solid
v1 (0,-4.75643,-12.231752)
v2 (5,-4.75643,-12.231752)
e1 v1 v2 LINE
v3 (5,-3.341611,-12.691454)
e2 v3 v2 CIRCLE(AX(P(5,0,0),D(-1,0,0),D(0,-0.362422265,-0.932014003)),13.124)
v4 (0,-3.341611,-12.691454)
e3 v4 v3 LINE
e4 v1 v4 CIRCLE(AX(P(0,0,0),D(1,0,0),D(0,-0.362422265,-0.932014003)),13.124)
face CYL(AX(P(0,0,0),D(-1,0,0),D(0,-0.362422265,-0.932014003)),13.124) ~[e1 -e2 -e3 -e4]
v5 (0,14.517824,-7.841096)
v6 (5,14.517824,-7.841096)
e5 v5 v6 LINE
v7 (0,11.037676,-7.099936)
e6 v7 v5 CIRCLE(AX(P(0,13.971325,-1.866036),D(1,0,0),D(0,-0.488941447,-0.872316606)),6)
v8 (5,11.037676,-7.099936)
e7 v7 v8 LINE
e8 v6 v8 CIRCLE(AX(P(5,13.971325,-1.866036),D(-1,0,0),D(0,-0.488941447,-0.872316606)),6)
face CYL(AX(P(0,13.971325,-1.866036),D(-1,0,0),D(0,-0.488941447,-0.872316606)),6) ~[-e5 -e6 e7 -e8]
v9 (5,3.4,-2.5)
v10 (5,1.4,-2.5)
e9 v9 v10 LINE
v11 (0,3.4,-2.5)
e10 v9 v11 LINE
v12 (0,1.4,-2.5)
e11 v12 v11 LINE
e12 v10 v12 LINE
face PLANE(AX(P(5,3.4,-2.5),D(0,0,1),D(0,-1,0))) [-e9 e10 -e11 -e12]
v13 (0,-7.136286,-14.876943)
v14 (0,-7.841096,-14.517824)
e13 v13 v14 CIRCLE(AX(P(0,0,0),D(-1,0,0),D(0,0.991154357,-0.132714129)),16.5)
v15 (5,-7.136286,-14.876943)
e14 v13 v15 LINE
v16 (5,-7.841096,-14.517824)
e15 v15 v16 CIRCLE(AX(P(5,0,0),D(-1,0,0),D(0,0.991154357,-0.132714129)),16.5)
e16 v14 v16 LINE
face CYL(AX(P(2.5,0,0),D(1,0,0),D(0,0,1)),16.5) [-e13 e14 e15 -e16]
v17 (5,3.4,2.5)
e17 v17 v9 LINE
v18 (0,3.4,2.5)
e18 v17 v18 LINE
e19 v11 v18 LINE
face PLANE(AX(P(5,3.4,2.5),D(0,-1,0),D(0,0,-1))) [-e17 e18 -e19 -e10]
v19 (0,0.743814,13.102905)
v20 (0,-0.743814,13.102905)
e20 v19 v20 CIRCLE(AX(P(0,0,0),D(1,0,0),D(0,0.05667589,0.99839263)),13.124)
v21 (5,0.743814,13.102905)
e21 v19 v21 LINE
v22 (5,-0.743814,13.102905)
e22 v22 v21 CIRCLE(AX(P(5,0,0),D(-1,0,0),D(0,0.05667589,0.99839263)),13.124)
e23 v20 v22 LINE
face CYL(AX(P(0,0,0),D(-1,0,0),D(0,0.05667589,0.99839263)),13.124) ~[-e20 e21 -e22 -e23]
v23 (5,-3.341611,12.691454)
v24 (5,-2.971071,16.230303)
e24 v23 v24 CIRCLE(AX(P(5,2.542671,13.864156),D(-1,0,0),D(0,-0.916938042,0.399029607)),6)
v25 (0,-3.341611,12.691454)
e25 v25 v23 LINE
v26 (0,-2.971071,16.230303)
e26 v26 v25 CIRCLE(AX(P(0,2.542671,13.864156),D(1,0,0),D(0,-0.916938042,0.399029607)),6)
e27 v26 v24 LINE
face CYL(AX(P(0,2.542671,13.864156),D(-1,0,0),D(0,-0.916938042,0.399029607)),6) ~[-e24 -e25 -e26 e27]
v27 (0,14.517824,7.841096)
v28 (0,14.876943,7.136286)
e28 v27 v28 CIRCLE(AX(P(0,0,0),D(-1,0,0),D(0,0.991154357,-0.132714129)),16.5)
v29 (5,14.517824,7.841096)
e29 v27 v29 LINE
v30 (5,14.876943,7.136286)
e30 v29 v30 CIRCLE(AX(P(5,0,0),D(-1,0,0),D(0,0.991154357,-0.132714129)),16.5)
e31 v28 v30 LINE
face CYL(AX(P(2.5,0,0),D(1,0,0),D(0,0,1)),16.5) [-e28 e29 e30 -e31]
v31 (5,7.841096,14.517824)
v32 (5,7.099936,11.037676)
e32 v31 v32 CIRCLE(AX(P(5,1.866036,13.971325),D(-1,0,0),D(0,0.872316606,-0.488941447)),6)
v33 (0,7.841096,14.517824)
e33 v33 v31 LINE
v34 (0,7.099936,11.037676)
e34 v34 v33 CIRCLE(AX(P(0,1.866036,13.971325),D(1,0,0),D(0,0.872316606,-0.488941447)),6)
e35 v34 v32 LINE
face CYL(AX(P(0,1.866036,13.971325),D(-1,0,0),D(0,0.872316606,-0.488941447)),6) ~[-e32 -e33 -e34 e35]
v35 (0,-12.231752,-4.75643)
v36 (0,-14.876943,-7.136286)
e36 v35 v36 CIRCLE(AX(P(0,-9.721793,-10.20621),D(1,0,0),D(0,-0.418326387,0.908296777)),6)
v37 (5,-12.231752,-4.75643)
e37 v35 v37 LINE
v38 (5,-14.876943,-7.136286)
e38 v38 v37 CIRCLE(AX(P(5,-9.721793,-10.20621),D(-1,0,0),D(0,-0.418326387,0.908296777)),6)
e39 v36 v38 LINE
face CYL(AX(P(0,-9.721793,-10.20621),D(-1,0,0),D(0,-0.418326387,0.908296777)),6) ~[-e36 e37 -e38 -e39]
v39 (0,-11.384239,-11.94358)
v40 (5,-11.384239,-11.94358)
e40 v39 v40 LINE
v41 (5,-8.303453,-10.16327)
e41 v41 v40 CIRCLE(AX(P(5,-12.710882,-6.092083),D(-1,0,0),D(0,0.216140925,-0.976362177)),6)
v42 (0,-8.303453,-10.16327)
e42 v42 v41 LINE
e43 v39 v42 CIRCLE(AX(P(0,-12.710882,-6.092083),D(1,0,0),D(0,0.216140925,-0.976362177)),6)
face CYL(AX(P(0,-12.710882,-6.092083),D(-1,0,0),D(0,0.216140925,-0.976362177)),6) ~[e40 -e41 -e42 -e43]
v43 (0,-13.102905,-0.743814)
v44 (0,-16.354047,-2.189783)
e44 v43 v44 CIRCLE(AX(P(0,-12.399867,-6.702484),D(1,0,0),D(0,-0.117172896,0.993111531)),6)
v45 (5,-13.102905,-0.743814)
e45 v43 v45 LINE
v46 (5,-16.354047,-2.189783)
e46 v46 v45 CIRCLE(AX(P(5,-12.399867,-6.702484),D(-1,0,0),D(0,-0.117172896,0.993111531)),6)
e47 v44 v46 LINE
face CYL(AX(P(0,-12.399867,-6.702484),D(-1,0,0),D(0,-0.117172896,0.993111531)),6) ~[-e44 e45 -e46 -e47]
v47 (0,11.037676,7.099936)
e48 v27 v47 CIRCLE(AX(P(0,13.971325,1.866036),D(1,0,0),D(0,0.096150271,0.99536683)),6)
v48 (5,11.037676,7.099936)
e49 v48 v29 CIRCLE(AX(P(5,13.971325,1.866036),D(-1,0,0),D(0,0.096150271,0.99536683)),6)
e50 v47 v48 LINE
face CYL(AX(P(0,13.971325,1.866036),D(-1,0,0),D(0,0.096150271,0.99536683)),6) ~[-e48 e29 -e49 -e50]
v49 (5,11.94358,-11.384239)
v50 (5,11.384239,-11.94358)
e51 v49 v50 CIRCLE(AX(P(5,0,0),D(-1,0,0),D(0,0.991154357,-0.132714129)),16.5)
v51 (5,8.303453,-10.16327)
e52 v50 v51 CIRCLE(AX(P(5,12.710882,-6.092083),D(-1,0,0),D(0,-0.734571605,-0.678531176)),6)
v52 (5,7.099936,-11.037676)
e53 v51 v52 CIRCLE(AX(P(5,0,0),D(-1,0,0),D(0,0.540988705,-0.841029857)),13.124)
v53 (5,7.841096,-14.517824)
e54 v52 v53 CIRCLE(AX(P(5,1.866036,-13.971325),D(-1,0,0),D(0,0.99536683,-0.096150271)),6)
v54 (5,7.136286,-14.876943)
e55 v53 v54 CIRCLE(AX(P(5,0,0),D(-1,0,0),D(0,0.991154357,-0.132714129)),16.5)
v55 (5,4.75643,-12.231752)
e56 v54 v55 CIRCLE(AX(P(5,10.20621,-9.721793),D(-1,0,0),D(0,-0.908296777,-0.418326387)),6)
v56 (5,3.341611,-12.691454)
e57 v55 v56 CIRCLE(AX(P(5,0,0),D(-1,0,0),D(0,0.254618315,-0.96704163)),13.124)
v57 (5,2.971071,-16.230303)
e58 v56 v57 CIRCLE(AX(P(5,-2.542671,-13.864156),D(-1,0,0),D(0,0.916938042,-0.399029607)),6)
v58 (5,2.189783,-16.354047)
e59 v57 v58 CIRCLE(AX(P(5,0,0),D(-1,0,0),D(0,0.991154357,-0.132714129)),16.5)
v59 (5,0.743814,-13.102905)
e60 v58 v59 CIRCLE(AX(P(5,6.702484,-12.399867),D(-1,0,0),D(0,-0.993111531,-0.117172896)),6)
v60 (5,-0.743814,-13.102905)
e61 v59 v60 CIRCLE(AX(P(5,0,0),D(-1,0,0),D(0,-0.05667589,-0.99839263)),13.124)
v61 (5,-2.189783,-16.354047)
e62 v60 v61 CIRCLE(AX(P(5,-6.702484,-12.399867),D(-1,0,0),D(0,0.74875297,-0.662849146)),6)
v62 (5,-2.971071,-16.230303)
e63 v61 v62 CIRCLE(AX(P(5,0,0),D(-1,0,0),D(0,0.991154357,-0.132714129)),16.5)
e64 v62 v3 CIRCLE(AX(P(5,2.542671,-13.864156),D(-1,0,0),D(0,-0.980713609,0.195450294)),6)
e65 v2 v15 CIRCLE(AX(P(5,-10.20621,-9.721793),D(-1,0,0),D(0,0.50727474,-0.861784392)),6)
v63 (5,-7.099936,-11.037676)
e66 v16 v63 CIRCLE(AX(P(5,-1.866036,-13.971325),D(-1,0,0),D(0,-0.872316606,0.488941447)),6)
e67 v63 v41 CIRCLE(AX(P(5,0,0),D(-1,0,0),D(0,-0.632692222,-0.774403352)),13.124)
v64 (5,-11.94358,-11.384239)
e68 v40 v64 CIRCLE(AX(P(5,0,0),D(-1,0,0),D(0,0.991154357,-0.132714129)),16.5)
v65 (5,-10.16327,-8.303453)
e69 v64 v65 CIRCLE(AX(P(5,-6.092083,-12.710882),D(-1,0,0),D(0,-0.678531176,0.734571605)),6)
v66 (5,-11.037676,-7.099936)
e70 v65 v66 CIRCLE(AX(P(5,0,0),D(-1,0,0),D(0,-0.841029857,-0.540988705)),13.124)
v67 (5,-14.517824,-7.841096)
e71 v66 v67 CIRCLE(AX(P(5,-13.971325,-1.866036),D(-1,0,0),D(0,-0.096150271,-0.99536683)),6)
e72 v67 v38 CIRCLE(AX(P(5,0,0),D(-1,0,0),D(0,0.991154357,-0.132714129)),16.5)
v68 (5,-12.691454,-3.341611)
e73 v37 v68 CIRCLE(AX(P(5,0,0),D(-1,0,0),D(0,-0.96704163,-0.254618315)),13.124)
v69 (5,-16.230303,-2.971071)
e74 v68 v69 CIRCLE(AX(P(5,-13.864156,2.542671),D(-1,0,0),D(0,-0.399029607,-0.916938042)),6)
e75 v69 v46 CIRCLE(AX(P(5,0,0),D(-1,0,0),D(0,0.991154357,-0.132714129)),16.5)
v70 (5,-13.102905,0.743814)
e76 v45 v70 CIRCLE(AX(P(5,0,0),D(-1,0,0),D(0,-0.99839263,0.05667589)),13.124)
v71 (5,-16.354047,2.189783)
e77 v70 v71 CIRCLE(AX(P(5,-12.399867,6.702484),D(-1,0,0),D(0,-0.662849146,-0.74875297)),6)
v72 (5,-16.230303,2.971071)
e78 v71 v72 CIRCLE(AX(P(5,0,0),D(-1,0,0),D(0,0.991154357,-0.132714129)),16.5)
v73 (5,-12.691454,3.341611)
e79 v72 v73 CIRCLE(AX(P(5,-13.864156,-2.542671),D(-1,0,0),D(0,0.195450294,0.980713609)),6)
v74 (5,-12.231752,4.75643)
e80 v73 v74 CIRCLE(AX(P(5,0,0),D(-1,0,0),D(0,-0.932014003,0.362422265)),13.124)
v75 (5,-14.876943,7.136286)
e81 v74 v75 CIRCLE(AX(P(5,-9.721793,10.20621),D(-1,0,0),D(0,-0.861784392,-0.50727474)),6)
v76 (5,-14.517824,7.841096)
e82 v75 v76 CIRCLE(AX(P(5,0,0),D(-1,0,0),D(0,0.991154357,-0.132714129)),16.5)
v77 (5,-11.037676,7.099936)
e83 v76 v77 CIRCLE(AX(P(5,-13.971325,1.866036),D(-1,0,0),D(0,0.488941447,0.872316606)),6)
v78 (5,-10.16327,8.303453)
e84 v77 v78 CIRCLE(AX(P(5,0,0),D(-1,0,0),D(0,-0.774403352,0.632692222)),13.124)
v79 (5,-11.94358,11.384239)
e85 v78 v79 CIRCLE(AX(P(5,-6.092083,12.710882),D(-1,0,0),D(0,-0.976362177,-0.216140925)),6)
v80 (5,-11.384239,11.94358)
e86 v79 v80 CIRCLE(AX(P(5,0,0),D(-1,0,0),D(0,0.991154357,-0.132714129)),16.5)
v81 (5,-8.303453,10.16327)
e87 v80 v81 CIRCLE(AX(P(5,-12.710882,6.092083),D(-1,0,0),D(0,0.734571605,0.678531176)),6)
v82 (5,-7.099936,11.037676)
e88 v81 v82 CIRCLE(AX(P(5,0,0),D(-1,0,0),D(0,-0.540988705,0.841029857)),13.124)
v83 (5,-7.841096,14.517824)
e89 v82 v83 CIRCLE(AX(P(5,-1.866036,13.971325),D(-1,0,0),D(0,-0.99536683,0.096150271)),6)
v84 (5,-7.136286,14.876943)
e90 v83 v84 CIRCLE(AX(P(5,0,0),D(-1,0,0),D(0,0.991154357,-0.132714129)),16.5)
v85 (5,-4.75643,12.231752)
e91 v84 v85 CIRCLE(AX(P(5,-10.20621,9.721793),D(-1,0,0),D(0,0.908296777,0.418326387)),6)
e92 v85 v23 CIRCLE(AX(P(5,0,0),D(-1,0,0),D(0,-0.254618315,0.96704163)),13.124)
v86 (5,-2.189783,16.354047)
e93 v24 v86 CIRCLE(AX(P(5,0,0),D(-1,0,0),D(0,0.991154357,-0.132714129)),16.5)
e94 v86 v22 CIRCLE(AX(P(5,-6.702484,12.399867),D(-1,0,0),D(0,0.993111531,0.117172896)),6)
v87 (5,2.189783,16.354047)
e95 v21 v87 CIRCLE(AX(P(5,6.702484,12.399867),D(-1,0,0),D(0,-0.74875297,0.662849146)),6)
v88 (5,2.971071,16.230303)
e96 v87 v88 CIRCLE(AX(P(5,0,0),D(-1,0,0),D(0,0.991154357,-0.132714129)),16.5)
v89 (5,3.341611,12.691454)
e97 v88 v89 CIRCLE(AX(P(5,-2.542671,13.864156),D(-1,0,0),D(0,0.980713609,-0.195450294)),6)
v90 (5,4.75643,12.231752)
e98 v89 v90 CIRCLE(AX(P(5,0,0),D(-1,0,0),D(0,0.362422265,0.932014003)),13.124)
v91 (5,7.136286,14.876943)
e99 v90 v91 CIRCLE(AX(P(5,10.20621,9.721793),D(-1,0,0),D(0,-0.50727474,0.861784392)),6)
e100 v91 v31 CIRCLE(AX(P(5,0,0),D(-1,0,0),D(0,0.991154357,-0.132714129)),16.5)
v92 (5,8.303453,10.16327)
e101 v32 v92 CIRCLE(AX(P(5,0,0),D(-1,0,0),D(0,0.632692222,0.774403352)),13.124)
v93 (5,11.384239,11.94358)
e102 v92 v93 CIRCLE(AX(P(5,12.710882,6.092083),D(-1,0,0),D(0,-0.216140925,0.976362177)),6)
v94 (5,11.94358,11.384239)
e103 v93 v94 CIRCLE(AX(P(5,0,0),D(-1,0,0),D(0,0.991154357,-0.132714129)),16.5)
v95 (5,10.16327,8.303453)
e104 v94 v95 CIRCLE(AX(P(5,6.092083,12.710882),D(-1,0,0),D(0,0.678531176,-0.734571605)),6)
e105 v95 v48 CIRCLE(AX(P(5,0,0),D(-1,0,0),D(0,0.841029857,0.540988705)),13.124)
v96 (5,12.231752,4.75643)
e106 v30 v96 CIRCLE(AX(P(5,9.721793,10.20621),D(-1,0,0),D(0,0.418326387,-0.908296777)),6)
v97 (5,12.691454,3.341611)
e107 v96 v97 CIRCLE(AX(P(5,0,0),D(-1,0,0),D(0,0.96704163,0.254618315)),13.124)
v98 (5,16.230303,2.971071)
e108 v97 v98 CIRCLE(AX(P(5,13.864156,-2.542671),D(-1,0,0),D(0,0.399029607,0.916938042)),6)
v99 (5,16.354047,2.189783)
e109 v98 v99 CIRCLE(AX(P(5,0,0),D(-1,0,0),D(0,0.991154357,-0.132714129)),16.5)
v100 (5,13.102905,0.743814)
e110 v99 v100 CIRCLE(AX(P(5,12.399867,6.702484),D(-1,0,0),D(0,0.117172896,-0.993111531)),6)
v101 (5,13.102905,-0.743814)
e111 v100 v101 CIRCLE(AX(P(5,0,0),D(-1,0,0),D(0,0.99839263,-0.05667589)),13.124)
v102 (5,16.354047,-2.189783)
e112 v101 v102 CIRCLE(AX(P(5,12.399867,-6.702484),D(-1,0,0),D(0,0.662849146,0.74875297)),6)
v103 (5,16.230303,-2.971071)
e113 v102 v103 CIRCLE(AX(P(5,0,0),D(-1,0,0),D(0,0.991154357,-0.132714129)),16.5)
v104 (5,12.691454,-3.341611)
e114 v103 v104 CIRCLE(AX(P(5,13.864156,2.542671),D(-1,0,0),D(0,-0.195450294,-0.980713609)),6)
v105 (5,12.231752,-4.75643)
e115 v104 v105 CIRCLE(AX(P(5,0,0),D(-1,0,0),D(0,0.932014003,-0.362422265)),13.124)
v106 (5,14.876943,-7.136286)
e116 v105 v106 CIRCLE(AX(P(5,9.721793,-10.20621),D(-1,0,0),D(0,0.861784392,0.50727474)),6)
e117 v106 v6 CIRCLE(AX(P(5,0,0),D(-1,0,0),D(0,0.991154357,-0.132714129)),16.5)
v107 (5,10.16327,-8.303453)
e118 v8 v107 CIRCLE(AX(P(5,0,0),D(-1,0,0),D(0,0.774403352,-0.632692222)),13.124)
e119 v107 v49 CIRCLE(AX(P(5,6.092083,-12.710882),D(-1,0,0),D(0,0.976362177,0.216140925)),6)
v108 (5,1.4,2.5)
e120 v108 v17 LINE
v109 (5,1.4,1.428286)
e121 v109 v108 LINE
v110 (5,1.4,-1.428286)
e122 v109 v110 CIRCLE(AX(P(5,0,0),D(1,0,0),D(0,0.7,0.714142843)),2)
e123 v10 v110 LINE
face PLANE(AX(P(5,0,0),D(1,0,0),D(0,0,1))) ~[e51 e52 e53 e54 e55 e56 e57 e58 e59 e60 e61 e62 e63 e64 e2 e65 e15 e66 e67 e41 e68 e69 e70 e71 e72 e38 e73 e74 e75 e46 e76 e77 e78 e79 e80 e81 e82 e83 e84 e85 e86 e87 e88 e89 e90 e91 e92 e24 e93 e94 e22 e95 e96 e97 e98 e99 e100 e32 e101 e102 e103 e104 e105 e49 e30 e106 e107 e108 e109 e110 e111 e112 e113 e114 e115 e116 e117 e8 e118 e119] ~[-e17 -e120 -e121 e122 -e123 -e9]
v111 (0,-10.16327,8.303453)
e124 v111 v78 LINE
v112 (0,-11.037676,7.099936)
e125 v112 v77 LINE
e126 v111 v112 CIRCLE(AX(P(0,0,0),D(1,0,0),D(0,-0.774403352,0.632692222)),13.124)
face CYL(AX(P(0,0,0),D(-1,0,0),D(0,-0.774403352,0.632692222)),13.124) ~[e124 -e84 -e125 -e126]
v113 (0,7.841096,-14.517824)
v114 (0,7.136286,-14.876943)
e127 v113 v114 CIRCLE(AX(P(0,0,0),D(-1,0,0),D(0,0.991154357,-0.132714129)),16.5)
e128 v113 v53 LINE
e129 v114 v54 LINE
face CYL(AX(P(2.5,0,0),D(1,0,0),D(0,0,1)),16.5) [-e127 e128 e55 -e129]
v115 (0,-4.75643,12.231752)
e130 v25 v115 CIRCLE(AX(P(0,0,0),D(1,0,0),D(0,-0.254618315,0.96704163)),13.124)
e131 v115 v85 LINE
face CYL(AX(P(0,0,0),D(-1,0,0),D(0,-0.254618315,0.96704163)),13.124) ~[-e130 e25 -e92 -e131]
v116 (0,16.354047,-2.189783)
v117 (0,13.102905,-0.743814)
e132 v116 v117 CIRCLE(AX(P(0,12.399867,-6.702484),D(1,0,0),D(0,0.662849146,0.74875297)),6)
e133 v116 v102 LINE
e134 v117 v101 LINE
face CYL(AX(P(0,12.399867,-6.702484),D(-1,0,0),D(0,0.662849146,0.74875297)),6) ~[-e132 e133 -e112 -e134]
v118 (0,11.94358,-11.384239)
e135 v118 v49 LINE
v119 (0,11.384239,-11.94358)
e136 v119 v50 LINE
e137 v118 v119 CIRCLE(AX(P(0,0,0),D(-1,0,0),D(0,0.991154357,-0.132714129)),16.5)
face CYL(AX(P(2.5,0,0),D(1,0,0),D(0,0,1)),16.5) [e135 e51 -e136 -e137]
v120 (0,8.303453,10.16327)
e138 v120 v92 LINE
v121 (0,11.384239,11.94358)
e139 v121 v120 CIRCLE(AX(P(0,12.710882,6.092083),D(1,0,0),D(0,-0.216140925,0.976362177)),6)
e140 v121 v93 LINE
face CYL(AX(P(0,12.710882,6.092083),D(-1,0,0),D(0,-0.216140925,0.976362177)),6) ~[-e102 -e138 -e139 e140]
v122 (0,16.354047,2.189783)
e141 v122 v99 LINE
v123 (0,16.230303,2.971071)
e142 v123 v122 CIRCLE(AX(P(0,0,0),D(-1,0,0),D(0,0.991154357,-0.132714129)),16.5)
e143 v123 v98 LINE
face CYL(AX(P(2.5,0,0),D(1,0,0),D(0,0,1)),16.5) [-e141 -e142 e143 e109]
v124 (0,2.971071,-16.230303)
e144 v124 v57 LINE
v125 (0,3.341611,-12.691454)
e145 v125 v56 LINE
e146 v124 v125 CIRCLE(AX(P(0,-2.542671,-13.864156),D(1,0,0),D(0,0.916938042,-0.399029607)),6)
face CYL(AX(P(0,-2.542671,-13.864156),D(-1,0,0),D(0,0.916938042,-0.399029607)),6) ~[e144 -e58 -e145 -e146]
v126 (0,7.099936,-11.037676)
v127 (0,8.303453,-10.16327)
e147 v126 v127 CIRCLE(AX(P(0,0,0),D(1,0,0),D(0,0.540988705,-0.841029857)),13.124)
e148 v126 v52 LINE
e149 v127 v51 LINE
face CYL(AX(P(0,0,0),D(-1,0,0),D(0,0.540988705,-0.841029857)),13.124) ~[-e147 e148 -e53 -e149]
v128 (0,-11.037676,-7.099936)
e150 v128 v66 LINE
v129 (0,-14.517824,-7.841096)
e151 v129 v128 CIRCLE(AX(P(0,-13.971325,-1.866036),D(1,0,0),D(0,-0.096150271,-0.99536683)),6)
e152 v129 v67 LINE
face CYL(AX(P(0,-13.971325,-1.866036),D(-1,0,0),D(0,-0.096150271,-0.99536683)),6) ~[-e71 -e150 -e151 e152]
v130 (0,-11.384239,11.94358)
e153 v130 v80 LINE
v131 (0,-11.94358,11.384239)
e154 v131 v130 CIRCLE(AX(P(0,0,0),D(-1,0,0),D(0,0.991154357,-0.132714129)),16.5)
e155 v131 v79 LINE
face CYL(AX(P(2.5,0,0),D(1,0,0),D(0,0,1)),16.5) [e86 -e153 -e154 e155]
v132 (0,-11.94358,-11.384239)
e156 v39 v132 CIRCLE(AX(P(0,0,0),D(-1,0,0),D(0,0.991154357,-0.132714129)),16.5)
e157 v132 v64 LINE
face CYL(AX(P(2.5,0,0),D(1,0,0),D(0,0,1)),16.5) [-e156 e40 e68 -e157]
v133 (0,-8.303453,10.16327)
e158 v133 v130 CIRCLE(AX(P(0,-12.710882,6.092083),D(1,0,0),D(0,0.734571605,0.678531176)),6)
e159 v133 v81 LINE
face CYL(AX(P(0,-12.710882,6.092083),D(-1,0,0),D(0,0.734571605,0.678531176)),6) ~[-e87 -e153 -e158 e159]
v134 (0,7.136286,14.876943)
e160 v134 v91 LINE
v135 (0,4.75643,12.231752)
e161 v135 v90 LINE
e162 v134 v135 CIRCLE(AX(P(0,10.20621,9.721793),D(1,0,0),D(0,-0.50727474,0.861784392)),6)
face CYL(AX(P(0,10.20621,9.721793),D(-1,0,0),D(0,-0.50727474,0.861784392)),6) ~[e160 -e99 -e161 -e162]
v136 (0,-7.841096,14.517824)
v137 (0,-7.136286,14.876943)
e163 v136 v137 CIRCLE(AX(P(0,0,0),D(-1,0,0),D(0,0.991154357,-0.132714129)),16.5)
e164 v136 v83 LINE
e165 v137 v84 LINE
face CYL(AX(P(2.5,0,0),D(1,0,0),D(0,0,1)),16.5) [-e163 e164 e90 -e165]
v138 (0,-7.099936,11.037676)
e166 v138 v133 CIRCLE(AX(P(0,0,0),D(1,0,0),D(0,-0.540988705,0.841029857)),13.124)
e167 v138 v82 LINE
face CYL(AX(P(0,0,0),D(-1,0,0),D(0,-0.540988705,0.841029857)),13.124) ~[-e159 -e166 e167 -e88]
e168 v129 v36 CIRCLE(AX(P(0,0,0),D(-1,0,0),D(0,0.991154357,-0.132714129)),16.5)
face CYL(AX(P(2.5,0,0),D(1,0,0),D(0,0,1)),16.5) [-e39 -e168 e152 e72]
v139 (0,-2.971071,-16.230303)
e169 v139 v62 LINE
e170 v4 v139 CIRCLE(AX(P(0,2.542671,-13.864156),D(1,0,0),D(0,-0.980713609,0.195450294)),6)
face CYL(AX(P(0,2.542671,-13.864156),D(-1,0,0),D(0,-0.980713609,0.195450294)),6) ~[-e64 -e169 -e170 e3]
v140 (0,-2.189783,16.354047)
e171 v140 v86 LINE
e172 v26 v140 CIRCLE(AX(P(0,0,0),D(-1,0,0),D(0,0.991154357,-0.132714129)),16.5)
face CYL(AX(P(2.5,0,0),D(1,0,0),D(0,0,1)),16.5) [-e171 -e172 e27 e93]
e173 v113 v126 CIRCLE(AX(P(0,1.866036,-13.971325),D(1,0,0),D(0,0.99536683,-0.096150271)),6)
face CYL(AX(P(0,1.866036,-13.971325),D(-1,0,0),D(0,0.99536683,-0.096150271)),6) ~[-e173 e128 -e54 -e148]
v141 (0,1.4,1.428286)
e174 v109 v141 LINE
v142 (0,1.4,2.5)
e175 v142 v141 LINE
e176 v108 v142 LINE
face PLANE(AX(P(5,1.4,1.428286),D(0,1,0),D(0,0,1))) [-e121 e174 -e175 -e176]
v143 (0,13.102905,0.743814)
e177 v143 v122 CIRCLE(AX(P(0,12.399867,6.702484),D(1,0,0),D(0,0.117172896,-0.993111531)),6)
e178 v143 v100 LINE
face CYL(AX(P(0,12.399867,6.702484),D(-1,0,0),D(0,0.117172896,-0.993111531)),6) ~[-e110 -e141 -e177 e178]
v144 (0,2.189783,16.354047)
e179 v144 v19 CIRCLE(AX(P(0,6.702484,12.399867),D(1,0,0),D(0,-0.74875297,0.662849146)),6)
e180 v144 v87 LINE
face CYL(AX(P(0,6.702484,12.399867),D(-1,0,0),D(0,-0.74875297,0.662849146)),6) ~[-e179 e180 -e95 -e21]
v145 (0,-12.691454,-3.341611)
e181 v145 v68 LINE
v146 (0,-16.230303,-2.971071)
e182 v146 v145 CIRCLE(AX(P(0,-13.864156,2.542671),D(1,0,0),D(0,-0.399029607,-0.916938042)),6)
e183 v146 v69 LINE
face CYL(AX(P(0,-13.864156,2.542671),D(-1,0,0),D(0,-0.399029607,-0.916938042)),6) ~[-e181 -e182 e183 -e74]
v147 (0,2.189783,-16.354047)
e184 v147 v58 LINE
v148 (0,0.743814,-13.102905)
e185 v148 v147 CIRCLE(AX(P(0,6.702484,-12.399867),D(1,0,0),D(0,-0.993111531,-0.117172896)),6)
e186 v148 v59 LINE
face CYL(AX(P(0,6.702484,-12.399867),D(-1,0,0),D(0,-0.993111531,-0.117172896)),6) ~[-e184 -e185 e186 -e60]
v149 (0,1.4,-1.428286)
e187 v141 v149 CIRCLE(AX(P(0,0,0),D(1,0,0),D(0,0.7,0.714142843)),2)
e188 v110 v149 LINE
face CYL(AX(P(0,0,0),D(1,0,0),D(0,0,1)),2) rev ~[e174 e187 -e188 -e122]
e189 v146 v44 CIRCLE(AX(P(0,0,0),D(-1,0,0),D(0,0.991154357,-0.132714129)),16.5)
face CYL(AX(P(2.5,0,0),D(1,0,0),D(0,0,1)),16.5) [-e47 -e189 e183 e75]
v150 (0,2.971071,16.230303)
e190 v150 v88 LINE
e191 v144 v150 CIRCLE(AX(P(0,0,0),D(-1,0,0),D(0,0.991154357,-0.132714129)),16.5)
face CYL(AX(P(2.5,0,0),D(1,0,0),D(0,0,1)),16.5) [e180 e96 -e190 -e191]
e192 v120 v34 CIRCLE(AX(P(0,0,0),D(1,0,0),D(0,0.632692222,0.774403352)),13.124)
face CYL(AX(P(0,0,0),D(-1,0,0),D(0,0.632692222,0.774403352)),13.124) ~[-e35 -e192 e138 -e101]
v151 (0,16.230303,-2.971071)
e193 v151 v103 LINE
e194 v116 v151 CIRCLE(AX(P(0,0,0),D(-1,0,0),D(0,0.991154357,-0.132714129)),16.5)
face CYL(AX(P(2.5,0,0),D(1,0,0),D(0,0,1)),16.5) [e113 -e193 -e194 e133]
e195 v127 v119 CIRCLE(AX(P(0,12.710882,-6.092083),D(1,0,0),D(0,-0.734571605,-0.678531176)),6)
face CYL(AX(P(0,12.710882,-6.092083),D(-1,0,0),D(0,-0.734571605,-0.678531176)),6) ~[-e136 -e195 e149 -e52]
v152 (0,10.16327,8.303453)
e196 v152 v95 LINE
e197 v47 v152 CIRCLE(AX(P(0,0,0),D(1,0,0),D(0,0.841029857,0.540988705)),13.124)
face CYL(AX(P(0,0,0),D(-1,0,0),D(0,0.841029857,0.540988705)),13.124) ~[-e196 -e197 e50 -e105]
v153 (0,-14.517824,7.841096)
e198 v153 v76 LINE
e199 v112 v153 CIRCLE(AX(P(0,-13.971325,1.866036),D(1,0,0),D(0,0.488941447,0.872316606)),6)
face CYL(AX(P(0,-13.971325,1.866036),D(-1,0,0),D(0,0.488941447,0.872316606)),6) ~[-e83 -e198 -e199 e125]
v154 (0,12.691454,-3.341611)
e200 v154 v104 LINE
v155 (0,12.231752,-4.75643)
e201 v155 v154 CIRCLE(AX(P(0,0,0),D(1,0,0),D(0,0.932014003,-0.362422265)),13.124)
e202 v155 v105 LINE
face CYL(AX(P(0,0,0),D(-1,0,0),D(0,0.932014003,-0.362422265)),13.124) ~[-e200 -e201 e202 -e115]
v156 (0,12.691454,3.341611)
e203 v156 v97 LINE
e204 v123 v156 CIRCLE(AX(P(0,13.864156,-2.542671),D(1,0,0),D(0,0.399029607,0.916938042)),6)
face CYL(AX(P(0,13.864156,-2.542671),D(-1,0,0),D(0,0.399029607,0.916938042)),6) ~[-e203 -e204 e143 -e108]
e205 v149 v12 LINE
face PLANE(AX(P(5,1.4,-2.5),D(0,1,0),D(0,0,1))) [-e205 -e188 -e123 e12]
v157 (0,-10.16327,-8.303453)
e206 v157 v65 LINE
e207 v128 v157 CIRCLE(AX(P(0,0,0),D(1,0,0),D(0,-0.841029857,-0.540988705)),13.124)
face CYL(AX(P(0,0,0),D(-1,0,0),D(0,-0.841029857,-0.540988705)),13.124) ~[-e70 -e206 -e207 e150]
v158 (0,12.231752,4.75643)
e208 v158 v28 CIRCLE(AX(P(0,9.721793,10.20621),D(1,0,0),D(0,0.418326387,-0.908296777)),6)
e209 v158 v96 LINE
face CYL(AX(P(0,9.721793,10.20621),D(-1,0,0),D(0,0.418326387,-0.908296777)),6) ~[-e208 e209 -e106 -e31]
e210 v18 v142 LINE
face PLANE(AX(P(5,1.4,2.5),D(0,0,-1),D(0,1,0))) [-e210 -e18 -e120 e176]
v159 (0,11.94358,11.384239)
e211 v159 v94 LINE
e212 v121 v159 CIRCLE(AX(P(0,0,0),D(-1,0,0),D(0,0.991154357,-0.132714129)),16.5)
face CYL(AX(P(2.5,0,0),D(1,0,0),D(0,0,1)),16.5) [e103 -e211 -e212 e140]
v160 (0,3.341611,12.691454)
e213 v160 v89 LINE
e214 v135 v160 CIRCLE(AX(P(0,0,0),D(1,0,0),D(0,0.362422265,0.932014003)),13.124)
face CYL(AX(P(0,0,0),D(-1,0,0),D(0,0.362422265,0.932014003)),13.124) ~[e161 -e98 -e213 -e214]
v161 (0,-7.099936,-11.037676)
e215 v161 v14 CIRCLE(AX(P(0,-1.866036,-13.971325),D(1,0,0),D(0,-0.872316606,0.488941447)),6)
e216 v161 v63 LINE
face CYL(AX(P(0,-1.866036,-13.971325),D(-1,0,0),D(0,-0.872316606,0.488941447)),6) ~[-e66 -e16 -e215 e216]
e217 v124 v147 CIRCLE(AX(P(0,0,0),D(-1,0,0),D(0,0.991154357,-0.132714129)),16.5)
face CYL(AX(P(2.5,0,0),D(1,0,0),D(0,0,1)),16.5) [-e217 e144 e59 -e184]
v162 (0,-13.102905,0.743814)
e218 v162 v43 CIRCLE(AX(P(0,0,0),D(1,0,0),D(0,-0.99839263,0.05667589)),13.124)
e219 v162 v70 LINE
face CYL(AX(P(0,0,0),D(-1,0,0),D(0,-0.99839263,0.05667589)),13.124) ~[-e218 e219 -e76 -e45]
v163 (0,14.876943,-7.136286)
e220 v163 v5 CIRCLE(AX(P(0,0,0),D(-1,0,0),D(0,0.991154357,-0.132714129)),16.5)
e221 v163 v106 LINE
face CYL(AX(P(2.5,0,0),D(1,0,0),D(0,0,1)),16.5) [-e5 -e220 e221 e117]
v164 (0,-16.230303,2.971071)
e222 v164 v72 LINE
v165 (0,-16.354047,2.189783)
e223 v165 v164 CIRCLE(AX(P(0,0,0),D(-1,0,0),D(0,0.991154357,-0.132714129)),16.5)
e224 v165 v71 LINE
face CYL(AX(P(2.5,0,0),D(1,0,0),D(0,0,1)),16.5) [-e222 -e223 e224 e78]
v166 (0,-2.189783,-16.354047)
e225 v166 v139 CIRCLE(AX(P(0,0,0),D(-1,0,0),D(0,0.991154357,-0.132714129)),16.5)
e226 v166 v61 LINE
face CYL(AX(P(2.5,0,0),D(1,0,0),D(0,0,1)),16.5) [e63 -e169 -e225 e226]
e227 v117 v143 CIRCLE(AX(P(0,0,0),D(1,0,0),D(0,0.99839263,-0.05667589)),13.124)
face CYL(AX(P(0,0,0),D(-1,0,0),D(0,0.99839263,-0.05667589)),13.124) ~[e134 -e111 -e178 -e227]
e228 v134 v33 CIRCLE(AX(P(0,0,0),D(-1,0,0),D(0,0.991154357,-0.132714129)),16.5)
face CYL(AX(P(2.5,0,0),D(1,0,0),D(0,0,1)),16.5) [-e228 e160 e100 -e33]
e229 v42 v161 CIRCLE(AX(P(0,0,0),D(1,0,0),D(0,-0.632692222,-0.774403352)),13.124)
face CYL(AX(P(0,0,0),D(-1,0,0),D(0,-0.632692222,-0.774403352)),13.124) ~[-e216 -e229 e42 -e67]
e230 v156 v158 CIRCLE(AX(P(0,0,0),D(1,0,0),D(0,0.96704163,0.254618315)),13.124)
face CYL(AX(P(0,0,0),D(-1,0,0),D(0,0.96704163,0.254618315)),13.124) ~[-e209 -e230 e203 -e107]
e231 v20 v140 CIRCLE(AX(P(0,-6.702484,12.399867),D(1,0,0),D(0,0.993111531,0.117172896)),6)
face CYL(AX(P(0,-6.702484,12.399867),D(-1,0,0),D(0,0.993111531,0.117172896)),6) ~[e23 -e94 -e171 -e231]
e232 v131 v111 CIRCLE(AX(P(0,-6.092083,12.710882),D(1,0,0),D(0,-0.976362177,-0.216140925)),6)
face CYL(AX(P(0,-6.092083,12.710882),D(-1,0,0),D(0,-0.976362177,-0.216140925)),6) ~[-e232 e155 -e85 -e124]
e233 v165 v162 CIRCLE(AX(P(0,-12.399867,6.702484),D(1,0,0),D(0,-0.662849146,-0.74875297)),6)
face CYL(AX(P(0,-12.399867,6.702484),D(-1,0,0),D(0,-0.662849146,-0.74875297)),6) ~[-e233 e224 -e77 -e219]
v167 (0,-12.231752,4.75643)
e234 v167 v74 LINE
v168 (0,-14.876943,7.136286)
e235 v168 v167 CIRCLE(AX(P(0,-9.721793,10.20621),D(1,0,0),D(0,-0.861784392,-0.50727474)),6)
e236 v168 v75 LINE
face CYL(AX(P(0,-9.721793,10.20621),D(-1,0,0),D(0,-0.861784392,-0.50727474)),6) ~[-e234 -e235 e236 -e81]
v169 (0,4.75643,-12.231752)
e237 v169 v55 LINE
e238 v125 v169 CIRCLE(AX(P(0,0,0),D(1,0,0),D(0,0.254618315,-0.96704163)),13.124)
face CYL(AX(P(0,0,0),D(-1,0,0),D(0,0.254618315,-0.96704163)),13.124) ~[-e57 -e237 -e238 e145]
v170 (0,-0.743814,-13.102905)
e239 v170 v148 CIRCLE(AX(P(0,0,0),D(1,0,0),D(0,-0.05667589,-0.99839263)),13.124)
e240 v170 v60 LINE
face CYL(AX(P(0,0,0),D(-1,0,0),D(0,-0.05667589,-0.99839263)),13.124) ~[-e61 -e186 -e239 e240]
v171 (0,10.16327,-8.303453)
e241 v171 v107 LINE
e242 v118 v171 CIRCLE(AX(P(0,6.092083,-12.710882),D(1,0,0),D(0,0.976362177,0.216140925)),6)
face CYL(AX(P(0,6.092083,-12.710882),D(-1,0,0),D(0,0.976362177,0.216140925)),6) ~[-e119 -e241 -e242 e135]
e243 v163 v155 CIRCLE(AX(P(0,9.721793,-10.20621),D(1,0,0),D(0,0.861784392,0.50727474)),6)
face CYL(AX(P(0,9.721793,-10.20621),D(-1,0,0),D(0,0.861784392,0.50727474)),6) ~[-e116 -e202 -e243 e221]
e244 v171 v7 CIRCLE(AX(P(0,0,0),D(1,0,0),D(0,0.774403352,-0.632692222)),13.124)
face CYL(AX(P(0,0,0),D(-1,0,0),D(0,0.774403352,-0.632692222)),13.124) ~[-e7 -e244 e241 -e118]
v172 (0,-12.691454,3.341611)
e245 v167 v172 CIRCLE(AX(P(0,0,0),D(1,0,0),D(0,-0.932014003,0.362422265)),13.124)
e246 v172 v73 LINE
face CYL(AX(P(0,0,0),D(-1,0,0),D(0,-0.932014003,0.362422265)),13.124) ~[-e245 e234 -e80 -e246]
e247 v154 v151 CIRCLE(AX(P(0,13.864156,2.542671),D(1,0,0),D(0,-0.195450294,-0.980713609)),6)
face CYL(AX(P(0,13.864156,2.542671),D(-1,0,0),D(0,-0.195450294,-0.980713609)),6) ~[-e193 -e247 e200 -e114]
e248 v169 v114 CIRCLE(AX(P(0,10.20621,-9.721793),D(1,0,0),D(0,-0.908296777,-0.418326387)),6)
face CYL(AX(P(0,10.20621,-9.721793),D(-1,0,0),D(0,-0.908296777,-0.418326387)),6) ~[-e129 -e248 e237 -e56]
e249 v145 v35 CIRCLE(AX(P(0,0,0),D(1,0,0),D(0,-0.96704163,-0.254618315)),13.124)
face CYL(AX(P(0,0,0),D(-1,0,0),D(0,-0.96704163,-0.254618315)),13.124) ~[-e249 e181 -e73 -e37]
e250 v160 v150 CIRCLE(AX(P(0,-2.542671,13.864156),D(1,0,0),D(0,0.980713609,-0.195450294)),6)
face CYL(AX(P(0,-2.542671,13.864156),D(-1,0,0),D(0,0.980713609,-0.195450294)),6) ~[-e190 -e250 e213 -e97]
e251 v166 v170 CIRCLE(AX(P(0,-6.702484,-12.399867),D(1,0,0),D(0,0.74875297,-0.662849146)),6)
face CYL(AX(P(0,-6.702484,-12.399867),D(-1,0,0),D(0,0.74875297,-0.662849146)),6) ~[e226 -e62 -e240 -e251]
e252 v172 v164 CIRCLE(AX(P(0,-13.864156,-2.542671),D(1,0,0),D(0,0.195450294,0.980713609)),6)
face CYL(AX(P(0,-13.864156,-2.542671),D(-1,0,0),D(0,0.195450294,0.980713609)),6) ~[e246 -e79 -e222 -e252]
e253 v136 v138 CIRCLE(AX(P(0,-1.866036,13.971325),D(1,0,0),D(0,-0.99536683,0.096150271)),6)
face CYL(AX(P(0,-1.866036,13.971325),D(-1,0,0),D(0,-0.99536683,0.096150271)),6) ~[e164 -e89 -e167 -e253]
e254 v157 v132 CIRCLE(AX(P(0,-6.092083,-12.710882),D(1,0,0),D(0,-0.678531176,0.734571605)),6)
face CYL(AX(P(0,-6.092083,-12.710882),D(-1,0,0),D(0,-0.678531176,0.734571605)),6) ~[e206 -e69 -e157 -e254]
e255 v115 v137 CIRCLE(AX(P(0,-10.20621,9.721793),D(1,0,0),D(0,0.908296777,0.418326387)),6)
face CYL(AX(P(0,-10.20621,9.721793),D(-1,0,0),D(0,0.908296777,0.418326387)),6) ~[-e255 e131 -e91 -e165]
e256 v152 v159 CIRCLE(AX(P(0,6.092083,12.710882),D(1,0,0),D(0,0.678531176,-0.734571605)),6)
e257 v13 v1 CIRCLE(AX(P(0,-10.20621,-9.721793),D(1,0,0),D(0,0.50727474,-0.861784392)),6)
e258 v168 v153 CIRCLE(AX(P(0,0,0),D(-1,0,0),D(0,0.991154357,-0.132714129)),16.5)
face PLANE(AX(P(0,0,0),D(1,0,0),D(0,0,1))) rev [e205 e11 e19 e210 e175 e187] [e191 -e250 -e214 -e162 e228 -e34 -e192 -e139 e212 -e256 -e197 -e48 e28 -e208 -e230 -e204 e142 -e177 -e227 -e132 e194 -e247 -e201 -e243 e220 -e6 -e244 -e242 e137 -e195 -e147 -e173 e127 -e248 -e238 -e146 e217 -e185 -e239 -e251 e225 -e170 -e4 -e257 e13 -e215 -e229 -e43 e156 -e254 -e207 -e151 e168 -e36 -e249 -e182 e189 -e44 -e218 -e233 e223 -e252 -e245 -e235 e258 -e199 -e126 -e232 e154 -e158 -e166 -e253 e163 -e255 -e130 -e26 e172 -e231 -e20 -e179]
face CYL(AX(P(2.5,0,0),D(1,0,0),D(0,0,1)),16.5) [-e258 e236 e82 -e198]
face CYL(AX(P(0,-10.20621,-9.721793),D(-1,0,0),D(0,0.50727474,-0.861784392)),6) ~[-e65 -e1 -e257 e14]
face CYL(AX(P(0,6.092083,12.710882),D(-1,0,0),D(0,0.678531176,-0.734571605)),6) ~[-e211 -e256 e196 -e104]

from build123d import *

# Parameters (mm, degrees)
BASPROSKE_W        = 5
BASPROSKE_H        = 16.5
TOOTHCUT_DEPTH     = 24.864199128
TEETHCUTS_COUNT    = 20
TEETHCUTS_ANGLE    = 342
BORSKE_R           = 2
BORE_DEPTH         = 50.0000508
CUT_EXTRUDE1_DEPTH = 10


with BuildPart() as part:
    # BasProSke → Base-Revolve (revolve)
    with BuildSketch(Plane(origin=(0, 0, 0), x_dir=(1, 0, 0), z_dir=(0, 1, 0)), mode=Mode.PRIVATE) as base_revolve_sk:
        with Locations((2.5, 8.25)):
            Rectangle(BASPROSKE_W, BASPROSKE_H)
    revolve(base_revolve_sk.sketch.rotate(Axis((-10, 0, 0), (1, 0, 0)), 180), axis=Axis((-10, 0, 0), (1, 0, 0)))

    # TooCutSke → ToothCut (cut, through all)
    with BuildSketch(Plane(origin=(0, 0, 0), x_dir=(0, 0, -1), z_dir=(1, 0, 0))):
        with BuildLine():
            ThreePointArc((0.74381438, 13.102904875), (0, 13.124), (-0.74381438, 13.102904875))
            ThreePointArc((-0.74381438, 13.102904875), (-1.226473103, 14.852072512), (-2.209965745, 16.376962373))
            ThreePointArc((-2.209965745, 16.376962373), (0, 16.5254), (2.209965745, 16.376962373))
            ThreePointArc((2.209965745, 16.376962373), (1.226473103, 14.852072512), (0.74381438, 13.102904875))
        make_face()
    toothcut = extrude(amount=TOOTHCUT_DEPTH, mode=Mode.SUBTRACT)

    # TeethCuts: ToothCut ×20 about axis
    teethcuts_axis = Axis((-10, 0, 0), (1, 0, 0))
    for i in range(1, TEETHCUTS_COUNT):
        add(toothcut.rotate(teethcuts_axis, i * TEETHCUTS_ANGLE / (TEETHCUTS_COUNT - 1)), mode=Mode.SUBTRACT)

    # BorSke → Bore (cut, symmetric)
    with BuildSketch(Plane(origin=(0, 0, 0), x_dir=(0, 0, -1), z_dir=(1, 0, 0))):
        with Locations(Location((0, 0, 0), (0, 0, 180))):
            Circle(BORSKE_R)
    extrude(amount=BORE_DEPTH, both=True, mode=Mode.SUBTRACT)

    # Sketch1 → Cut-Extrude1 (cut)
    with BuildSketch(Plane(origin=(5, 0, 0), x_dir=(0, 0, -1), z_dir=(1, 0, 0))):
        with BuildLine():
            Line((-1.428285686, 1.4), (-2.5, 1.4))
            Line((-2.5, 1.4), (-2.5, 3.4))
            Line((-2.5, 3.4), (2.5, 3.4))
            Line((2.5, 3.4), (2.5, 1.4))
            Line((2.5, 1.4), (1.428285686, 1.4))
            ThreePointArc((1.428285686, 1.4), (0, 2), (-1.428285686, 1.4))
        make_face()
    extrude(amount=-CUT_EXTRUDE1_DEPTH, mode=Mode.SUBTRACT)


solid = part.part
